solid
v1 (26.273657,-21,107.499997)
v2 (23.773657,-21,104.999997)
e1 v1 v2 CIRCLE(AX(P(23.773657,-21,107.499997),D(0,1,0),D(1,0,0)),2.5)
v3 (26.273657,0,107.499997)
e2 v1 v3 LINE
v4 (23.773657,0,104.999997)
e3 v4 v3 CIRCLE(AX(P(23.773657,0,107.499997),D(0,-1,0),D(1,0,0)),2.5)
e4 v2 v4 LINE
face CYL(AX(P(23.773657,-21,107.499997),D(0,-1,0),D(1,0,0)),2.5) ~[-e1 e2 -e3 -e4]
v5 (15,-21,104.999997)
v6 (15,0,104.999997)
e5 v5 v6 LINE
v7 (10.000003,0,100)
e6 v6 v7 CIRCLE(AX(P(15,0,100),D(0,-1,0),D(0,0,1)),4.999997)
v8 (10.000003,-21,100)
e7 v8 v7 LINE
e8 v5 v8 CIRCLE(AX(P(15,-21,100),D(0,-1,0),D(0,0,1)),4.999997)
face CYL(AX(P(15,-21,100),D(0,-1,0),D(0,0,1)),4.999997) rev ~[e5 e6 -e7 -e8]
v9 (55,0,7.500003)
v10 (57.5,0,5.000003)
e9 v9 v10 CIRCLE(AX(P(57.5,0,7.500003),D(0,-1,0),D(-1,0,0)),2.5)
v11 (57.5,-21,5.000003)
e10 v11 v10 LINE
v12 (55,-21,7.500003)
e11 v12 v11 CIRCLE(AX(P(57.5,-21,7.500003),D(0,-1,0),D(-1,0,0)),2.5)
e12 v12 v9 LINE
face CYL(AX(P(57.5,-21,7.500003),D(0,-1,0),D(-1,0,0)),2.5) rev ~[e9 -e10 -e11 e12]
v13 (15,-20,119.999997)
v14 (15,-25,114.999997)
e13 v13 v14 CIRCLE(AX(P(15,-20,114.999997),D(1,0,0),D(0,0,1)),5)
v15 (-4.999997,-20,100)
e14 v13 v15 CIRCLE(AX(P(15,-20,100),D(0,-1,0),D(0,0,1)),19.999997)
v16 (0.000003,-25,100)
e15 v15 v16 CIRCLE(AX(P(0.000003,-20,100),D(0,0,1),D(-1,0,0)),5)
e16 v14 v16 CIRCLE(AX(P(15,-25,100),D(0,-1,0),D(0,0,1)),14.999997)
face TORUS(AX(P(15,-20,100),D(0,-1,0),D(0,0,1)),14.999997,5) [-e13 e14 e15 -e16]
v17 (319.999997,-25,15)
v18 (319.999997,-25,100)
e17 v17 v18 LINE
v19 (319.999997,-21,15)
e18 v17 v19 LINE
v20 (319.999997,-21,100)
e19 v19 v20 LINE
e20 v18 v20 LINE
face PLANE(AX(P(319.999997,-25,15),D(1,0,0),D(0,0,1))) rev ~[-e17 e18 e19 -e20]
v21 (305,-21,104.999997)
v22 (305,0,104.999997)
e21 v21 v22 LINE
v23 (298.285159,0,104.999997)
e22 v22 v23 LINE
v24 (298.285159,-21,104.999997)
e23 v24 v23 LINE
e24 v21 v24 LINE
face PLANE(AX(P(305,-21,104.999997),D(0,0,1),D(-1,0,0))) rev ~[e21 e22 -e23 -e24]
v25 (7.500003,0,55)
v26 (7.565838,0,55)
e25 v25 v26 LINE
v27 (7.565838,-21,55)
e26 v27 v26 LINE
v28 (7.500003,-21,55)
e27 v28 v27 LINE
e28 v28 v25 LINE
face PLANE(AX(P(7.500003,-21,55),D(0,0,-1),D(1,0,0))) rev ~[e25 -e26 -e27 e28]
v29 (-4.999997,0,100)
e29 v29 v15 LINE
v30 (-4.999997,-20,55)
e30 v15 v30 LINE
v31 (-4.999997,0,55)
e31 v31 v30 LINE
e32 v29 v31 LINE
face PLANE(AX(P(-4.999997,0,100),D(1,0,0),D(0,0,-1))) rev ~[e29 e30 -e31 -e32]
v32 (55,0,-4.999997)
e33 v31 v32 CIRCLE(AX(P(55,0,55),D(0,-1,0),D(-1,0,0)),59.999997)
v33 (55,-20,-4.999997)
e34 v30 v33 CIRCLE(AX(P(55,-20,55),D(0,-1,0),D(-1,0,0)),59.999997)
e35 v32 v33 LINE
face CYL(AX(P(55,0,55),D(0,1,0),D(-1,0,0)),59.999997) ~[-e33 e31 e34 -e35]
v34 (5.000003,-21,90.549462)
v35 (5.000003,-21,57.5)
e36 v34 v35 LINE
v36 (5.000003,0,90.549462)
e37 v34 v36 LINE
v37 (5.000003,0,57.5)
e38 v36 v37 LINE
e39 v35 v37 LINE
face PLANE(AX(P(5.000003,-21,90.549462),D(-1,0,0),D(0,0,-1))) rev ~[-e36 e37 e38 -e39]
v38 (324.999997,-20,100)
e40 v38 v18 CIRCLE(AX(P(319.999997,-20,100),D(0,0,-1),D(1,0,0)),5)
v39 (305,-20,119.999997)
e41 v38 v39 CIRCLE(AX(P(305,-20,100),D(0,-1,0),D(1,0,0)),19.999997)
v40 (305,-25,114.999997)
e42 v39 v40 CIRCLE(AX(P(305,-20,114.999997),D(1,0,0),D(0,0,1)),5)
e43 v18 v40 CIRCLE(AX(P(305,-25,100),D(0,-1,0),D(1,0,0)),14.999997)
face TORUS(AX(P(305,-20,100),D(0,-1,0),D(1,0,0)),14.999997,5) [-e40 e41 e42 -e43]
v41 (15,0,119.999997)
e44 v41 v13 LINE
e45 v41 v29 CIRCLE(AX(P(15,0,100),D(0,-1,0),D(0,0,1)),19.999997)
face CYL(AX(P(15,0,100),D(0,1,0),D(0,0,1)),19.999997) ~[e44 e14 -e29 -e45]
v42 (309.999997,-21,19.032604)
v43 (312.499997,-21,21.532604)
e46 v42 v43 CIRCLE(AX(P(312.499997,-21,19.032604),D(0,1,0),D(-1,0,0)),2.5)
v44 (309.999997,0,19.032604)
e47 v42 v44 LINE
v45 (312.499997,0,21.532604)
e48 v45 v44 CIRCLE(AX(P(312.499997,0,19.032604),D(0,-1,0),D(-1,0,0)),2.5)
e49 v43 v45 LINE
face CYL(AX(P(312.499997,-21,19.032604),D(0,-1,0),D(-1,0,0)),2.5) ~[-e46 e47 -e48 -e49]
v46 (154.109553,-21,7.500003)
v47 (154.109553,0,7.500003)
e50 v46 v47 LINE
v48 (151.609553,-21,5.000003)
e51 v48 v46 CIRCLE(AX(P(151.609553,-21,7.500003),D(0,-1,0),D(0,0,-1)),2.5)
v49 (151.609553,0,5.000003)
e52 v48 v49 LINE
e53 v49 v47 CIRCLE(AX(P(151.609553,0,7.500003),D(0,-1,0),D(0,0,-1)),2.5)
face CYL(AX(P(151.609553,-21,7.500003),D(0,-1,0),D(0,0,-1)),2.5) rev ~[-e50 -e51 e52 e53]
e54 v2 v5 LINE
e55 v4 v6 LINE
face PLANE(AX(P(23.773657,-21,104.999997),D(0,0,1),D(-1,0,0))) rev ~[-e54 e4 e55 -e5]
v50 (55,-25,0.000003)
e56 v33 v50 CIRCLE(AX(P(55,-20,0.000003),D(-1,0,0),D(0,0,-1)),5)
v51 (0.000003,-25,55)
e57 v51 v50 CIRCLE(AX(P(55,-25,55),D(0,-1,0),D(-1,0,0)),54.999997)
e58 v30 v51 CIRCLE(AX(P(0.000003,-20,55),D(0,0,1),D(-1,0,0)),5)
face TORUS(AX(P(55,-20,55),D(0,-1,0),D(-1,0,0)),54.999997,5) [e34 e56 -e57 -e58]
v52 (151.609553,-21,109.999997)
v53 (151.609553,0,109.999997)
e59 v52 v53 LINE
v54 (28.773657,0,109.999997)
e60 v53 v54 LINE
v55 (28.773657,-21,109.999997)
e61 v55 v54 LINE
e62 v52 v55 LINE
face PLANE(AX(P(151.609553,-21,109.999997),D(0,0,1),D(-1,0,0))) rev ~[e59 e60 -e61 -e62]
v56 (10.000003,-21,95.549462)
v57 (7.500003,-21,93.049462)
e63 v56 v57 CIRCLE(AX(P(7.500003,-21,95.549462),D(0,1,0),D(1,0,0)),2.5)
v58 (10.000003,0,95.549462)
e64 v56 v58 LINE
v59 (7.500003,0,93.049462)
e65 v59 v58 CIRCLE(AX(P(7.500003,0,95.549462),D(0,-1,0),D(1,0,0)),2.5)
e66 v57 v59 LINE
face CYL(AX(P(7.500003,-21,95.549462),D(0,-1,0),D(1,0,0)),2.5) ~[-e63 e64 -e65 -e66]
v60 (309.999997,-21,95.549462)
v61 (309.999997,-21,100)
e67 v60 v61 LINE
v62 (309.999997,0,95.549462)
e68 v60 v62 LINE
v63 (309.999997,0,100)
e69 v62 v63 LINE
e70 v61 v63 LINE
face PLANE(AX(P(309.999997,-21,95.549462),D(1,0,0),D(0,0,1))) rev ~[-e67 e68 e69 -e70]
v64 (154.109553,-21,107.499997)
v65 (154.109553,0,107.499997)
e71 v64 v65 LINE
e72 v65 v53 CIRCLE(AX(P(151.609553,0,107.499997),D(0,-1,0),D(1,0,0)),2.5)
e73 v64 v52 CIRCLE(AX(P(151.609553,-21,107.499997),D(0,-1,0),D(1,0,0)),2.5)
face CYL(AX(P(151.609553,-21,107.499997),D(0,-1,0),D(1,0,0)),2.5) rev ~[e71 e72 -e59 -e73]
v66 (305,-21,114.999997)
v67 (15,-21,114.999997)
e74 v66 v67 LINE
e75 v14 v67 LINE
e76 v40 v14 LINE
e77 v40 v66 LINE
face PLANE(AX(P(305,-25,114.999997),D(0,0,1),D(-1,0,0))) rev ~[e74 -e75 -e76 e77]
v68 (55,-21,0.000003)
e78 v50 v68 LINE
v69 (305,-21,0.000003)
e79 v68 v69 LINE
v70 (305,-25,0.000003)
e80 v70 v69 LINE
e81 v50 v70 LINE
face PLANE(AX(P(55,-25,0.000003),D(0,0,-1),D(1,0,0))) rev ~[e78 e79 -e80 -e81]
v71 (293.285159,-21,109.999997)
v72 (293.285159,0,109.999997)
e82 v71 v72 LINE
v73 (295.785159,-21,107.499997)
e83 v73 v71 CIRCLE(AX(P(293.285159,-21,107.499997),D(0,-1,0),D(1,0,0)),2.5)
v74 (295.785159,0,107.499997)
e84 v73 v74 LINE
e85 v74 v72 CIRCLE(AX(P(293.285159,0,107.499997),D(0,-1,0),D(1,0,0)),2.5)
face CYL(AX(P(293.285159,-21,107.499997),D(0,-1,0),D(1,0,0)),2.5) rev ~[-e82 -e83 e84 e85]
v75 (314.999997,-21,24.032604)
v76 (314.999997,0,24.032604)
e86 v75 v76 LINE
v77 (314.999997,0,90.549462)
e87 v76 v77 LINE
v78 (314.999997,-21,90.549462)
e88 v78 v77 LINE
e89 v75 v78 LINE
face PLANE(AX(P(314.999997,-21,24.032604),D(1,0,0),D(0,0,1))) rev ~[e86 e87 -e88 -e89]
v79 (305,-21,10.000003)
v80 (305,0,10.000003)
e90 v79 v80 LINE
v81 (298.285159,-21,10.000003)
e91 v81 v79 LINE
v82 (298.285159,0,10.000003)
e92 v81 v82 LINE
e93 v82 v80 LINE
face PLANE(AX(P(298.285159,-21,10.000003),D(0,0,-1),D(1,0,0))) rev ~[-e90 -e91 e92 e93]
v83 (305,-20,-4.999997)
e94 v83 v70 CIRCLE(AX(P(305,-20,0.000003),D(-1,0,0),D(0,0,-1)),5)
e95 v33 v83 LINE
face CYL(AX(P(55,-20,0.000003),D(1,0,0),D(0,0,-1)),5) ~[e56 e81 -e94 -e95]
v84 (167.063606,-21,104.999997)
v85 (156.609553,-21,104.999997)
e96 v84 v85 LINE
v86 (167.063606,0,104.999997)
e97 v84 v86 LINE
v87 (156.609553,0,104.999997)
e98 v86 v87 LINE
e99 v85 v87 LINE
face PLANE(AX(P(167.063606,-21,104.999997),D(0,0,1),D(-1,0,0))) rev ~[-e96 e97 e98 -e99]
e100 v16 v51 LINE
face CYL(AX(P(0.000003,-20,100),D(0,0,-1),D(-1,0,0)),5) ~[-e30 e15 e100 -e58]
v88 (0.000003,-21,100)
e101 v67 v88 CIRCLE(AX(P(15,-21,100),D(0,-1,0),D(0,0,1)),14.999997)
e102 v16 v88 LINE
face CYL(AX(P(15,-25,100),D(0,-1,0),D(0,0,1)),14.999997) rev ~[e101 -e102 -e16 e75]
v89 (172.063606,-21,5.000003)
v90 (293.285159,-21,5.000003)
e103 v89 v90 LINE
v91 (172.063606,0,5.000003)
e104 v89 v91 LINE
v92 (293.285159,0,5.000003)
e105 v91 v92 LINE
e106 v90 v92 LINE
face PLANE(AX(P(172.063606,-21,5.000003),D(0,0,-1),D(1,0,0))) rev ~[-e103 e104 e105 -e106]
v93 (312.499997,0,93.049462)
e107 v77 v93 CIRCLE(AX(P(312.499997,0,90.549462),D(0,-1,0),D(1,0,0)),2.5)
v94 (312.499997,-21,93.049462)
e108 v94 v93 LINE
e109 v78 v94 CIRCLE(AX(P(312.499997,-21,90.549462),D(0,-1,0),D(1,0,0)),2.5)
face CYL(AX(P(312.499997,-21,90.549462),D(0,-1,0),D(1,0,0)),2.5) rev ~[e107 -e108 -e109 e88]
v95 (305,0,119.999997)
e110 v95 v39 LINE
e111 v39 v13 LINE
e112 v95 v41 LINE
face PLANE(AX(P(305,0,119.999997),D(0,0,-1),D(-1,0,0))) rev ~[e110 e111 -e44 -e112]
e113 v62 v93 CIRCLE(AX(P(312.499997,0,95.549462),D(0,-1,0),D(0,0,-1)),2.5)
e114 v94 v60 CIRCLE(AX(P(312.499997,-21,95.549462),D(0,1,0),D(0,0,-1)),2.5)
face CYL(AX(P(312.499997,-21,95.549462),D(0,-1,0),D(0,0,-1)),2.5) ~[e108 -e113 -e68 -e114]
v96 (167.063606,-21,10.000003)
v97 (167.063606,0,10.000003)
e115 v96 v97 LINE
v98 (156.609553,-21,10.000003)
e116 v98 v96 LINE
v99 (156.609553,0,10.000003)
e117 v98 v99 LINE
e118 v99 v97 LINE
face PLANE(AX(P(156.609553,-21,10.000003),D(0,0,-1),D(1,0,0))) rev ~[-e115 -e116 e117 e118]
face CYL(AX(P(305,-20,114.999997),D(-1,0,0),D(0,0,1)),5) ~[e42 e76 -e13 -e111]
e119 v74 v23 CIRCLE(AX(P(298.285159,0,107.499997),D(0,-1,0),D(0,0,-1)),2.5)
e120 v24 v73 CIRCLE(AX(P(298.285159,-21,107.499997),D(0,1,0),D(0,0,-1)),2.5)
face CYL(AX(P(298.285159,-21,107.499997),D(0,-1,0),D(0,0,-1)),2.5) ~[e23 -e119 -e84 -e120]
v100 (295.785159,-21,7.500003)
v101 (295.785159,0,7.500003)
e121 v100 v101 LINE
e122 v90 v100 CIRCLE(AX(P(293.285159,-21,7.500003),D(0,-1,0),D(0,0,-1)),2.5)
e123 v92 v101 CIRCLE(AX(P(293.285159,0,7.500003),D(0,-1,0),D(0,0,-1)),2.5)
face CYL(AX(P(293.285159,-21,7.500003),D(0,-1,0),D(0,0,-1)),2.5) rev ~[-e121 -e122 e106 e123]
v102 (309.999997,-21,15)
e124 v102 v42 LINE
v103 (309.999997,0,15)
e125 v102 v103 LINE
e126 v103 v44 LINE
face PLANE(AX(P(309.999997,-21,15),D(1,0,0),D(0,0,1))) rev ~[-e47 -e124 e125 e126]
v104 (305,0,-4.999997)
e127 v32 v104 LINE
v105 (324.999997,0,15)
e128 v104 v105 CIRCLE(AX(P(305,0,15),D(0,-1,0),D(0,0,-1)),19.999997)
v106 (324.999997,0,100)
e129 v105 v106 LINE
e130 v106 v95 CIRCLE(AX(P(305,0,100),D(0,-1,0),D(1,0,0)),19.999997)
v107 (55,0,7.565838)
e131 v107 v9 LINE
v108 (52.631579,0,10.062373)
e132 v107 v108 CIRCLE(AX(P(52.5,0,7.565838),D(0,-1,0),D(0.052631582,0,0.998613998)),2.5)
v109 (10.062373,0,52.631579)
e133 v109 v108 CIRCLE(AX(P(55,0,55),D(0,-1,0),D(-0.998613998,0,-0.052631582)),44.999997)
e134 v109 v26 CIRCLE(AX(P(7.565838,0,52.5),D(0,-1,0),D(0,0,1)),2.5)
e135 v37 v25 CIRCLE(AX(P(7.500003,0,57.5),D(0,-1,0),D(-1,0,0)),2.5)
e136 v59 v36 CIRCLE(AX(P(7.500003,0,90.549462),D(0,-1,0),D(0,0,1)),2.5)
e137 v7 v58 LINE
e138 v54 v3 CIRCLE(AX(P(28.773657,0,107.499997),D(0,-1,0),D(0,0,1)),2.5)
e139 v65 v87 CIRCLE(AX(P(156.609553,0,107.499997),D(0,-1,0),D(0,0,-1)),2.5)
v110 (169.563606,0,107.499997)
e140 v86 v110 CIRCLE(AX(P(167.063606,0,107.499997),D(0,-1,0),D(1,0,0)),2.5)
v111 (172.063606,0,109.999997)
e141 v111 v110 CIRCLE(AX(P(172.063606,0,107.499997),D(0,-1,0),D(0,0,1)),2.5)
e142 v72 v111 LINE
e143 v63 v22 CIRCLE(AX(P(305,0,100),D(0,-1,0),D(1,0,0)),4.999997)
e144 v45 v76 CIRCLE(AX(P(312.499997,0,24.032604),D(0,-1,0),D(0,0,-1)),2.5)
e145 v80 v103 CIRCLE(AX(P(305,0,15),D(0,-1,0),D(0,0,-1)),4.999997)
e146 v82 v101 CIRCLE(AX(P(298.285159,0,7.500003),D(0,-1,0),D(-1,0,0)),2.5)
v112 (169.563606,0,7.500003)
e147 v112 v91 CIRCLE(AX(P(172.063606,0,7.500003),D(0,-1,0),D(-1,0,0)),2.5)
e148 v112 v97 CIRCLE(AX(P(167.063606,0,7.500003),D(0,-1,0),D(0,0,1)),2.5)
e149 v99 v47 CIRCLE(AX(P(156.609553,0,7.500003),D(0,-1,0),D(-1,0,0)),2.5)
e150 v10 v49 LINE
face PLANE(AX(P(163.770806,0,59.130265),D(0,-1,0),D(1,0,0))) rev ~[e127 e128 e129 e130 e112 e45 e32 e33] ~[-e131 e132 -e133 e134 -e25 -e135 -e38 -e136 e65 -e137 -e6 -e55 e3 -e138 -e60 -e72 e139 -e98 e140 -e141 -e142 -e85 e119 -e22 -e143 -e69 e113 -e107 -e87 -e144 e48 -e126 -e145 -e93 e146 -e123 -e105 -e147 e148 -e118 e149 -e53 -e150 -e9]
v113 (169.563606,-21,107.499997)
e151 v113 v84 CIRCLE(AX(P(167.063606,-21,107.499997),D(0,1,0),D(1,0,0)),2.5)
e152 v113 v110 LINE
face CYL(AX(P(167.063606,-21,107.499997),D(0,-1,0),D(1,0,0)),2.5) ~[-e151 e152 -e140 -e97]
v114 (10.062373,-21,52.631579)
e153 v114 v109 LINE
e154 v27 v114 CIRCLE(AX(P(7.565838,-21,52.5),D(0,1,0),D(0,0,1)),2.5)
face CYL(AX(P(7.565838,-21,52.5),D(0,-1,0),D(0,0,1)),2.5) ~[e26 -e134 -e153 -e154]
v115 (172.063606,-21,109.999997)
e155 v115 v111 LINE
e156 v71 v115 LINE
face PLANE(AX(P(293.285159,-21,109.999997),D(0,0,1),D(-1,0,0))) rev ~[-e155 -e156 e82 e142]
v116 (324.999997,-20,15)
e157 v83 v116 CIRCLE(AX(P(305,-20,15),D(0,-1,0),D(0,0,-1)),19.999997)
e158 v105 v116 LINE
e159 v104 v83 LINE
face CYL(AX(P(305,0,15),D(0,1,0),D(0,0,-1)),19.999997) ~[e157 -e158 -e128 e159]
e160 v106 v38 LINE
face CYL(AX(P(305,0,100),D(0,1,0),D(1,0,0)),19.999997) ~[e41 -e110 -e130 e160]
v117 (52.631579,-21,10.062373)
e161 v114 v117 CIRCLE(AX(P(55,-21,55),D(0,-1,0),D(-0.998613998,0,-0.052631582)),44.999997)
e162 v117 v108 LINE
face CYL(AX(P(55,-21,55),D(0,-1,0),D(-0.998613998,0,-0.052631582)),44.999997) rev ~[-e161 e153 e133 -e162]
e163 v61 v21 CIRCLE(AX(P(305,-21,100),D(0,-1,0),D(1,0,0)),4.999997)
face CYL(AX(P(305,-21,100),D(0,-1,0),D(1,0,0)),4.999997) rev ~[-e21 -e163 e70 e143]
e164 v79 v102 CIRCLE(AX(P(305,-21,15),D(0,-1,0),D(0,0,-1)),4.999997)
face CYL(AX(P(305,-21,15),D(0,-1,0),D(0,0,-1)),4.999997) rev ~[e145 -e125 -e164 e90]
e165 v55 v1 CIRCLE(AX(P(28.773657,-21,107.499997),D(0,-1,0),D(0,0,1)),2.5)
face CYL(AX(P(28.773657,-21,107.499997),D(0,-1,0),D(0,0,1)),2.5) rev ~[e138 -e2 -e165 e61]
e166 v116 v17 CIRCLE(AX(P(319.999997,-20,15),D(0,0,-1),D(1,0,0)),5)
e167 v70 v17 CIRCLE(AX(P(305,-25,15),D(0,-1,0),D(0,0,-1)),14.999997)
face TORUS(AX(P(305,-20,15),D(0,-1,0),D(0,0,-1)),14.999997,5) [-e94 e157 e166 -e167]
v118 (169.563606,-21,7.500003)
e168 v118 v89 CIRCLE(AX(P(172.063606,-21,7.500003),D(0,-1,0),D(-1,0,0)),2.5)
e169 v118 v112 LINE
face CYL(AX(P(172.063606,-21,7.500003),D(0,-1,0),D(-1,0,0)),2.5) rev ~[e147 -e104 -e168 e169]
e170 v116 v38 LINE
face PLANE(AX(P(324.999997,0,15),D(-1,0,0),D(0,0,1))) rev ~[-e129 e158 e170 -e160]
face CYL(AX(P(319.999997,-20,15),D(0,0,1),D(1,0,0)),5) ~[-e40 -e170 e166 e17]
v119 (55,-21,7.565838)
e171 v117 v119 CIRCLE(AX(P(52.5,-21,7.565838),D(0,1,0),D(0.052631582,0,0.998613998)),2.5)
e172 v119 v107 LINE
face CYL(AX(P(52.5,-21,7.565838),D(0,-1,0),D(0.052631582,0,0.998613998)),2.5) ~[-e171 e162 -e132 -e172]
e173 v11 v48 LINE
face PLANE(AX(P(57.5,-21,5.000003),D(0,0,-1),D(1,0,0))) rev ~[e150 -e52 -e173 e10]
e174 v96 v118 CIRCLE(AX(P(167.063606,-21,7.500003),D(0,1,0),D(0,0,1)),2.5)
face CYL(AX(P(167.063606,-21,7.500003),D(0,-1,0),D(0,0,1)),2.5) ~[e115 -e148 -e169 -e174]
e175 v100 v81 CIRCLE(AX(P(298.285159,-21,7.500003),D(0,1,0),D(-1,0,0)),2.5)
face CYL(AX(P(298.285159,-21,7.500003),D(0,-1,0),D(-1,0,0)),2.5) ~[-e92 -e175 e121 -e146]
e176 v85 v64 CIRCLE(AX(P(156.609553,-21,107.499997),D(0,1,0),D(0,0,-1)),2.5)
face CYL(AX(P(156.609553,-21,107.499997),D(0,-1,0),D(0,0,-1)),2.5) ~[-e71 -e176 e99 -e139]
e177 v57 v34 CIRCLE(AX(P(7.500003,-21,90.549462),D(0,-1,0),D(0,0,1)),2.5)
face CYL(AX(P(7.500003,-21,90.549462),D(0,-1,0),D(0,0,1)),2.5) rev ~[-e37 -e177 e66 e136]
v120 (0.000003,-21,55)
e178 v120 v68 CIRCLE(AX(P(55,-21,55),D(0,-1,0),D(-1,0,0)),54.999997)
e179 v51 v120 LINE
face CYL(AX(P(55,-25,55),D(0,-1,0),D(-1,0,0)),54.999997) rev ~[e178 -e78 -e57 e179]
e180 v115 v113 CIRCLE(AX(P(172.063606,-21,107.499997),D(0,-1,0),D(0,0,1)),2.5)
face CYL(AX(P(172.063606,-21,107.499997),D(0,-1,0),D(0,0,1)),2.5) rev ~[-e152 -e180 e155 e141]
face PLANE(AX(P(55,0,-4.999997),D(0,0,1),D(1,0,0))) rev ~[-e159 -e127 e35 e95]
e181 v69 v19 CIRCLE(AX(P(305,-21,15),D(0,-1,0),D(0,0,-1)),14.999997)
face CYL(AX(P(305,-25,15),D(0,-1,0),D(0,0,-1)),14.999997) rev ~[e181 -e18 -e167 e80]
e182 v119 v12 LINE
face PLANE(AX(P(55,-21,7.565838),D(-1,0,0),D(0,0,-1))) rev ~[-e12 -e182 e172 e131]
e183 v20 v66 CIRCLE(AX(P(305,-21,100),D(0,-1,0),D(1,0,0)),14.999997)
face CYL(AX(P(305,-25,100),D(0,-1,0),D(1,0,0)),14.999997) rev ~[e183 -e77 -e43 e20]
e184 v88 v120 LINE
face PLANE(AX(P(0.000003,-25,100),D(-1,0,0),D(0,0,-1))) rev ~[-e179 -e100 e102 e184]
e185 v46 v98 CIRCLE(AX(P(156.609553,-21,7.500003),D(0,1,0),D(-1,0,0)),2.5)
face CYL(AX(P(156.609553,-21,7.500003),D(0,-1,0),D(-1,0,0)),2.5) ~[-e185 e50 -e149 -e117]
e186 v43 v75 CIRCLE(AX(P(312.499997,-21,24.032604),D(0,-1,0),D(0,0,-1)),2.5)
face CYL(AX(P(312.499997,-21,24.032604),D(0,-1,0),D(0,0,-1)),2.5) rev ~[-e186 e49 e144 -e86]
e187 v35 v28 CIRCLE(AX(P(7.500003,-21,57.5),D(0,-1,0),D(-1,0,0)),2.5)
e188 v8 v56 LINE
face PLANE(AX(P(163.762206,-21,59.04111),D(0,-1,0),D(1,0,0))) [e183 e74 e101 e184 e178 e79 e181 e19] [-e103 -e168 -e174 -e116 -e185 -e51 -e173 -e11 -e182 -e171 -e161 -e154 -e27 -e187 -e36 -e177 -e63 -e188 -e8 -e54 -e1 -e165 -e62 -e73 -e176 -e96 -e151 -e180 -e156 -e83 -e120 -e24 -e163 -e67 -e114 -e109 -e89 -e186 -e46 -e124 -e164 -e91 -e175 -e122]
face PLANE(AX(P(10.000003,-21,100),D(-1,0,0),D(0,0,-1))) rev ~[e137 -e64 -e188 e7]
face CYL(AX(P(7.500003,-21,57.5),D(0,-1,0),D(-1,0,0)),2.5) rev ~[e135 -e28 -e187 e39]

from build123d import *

# Parameters (mm, degrees)
F2_DEPTH = 25
F3_R     = 5
F4_DEPTH = 4
F6_DEPTH = 25


with BuildPart() as f2:
    # F1 (on Front) → F2 (new body)
    with BuildSketch(Plane.XZ):
        with BuildLine():
            Line((-4.9999973178, 100), (-4.9999973178, 55))
            ThreePointArc((-4.9999973178, 55), (12.5735950254, 12.5735950254), (55, -4.9999973178))
            Line((55, -4.9999973178), (305, -4.9999973178))
            ThreePointArc((305, -4.9999973178), (319.1421337271, 0.8578662729), (324.9999973178, 15))
            Line((324.9999973178, 15), (324.9999973178, 100))
            ThreePointArc((324.9999973178, 100), (319.1421337271, 114.1421337271), (305, 119.9999973178))
            Line((305, 119.9999973178), (15, 119.9999973178))
            ThreePointArc((15, 119.9999973178), (0.8578662729, 114.1421337271), (-4.9999973178, 100))
        make_face()
    extrude(amount=F2_DEPTH)

    # F3
    f3_edges = [f2.edges().sort_by_distance(p)[0] for p in [
        (160, -25, 119.999997),
        (0.857866, -25, 114.142134),
        (-4.999997, -25, 77.5),
        (12.573595, -25, 12.573595),
        (180, -25, -4.999997),
        (319.142134, -25, 0.857866),
        (324.999997, -25, 57.5),
        (319.142134, -25, 114.142134),
    ]]
    fillet(f3_edges, radius=F3_R)

    # F2_face (on face) + F0 (on Front) + F2_face1 (on face) → F4 (cut)
    with BuildSketch(Plane(origin=(162.4531537348, -25, 58.2425840515), x_dir=(1, 0, 0), z_dir=(0, -1, 0))):
        with BuildLine():
            Line((142.5468462652, 56.7574132663), (-147.4531537348, 56.7574132663))
            ThreePointArc((-147.4531537348, 56.7574132663), (-158.059753556, 52.3640157697), (-162.4531510526, 41.7574159485))
            Line((-162.4531510526, 41.7574159485), (-162.4531510526, -3.2425840515))
            ThreePointArc((-162.4531510526, -3.2425840515), (-146.3440248034, -42.1334551202), (-107.4531537348, -58.2425813693))
            Line((-107.4531537348, -58.2425813693), (142.5468462652, -58.2425813693))
            ThreePointArc((142.5468462652, -58.2425813693), (153.1534460864, -53.8491838727), (157.546843583, -43.2425840515))
            Line((157.546843583, -43.2425840515), (157.546843583, 41.7574159485))
            ThreePointArc((157.546843583, 41.7574159485), (153.1534460864, 52.3640157697), (142.5468462652, 56.7574132663))
        make_face()
    with BuildSketch(Plane.XZ):
        with BuildLine():
            Line((186.9708299637, 115), (189.8719519377, 0))
            Line((189.8719519377, 0), (305, 0))
            ThreePointArc((305, 0), (315.6066017178, 4.3933982822), (320, 15))
            Line((320, 15), (320, 100))
            ThreePointArc((320, 100), (315.6066017178, 110.6066017178), (305, 115))
            Line((305, 115), (186.9708299637, 115))
        make_face()
    with BuildSketch(Plane(origin=(162.5693555517, 0, 58.3192422461), x_dir=(1, 0, 0), z_dir=(0, 1, 0))):
        with BuildLine():
            Line((-167.5693528695, 3.3192422461), (-167.5693528695, -41.6807577539))
            ThreePointArc((-167.5693528695, -41.6807577539), (-161.7114892788, -55.8228914811), (-147.5693555517, -61.6807550717))
            Line((-147.5693555517, -61.6807550717), (142.4306444483, -61.6807550717))
            ThreePointArc((142.4306444483, -61.6807550717), (156.5727781754, -55.8228914811), (162.4306417661, -41.6807577539))
            Line((162.4306417661, -41.6807577539), (162.4306417661, 43.3192422461))
            ThreePointArc((162.4306417661, 43.3192422461), (156.5727781754, 57.4613759732), (142.4306444483, 63.3192395638))
            Line((142.4306444483, 63.3192395638), (-107.5693555517, 63.3192395638))
            ThreePointArc((-107.5693555517, 63.3192395638), (-149.9957605263, 45.7456472206), (-167.5693528695, 3.3192422461))
        make_face()
    extrude(amount=-F4_DEPTH, dir=(0, -1, 0), mode=Mode.SUBTRACT)

    # F5 (on face) → F6 (cut)
    with BuildSketch(Plane.XZ.offset(21)):
        with BuildLine():
            Line((298.2851588726, 10.0000026822), (305, 10.0000026822))
            ThreePointArc((305, 10.0000026822), (308.5355320093, 11.4644679907), (309.9999973178, 15))
            Line((309.9999973178, 15), (309.9999973178, 19.0326044708))
            ThreePointArc((309.9999973178, 19.0326044708), (310.7322303648, 20.8003714238), (312.4999973178, 21.5326044708))
            ThreePointArc((312.4999973178, 21.5326044708), (314.2677642708, 22.2648375179), (314.9999973178, 24.0326044708))
            Line((314.9999973178, 24.0326044708), (314.9999973178, 90.5494615436))
            ThreePointArc((314.9999973178, 90.5494615436), (314.2677642708, 92.3172284965), (312.4999973178, 93.0494615436))
            ThreePointArc((312.4999973178, 93.0494615436), (310.7322303648, 93.7816945906), (309.9999973178, 95.5494615436))
            Line((309.9999973178, 95.5494615436), (309.9999973178, 100))
            ThreePointArc((309.9999973178, 100), (308.5355320093, 103.5355320093), (305, 104.9999973178))
            Line((305, 104.9999973178), (298.2851588726, 104.9999973178))
            ThreePointArc((298.2851588726, 104.9999973178), (296.5173919196, 105.7322303648), (295.7851588726, 107.4999973178))
            ThreePointArc((295.7851588726, 107.4999973178), (295.0529258256, 109.2677642708), (293.2851588726, 109.9999973178))
            Line((293.2851588726, 109.9999973178), (172.0636063814, 109.9999973178))
            ThreePointArc((172.0636063814, 109.9999973178), (170.2958394284, 109.2677642708), (169.5636063814, 107.4999973178))
            ThreePointArc((169.5636063814, 107.4999973178), (168.8313733344, 105.7322303648), (167.0636063814, 104.9999973178))
            Line((167.0636063814, 104.9999973178), (156.6095525026, 104.9999973178))
            ThreePointArc((156.6095525026, 104.9999973178), (154.8417855497, 105.7322303648), (154.1095525026, 107.4999973178))
            ThreePointArc((154.1095525026, 107.4999973178), (153.3773194556, 109.2677642708), (151.6095525026, 109.9999973178))
            Line((151.6095525026, 109.9999973178), (28.7736566365, 109.9999973178))
            ThreePointArc((28.7736566365, 109.9999973178), (27.0058896835, 109.2677642708), (26.2736566365, 107.4999973178))
            ThreePointArc((26.2736566365, 107.4999973178), (25.5414235894, 105.7322303648), (23.7736566365, 104.9999973178))
            Line((23.7736566365, 104.9999973178), (15, 104.9999973178))
            ThreePointArc((15, 104.9999973178), (11.4644679907, 103.5355320093), (10.0000026822, 100))
            Line((10.0000026822, 100), (10.0000026822, 95.5494615436))
            ThreePointArc((10.0000026822, 95.5494615436), (9.2677696352, 93.7816945906), (7.5000026822, 93.0494615436))
            ThreePointArc((7.5000026822, 93.0494615436), (5.7322357292, 92.3172284965), (5.0000026822, 90.5494615436))
            Line((5.0000026822, 90.5494615436), (5.0000026822, 57.5))
            ThreePointArc((5.0000026822, 57.5), (5.7322357292, 55.732233047), (7.5000026822, 55))
            Line((7.5000026822, 55), (7.5658377834, 55))
            ThreePointArc((7.5658377834, 55), (9.2864557847, 54.3136906278), (10.0623727779, 52.6315789548))
            ThreePointArc((10.0623727779, 52.6315789548), (23.1801967432, 23.1801967432), (52.6315789548, 10.0623727779))
            ThreePointArc((52.6315789548, 10.0623727779), (54.3136906278, 9.2864557847), (55, 7.5658377834))
            Line((55, 7.5658377834), (55, 7.5000026822))
            ThreePointArc((55, 7.5000026822), (55.732233047, 5.7322357292), (57.5, 5.0000026822))
            Line((57.5, 5.0000026822), (151.6095525026, 5.0000026822))
            ThreePointArc((151.6095525026, 5.0000026822), (153.3773194556, 5.7322357292), (154.1095525026, 7.5000026822))
            ThreePointArc((154.1095525026, 7.5000026822), (154.8417855497, 9.2677696352), (156.6095525026, 10.0000026822))
            Line((156.6095525026, 10.0000026822), (167.0636063814, 10.0000026822))
            ThreePointArc((167.0636063814, 10.0000026822), (168.8313733344, 9.2677696352), (169.5636063814, 7.5000026822))
            ThreePointArc((169.5636063814, 7.5000026822), (170.2958394284, 5.7322357292), (172.0636063814, 5.0000026822))
            Line((172.0636063814, 5.0000026822), (293.2851588726, 5.0000026822))
            ThreePointArc((293.2851588726, 5.0000026822), (295.0529258256, 5.7322357292), (295.7851588726, 7.5000026822))
            ThreePointArc((295.7851588726, 7.5000026822), (296.5173919196, 9.2677696352), (298.2851588726, 10.0000026822))
        make_face()
    extrude(amount=-F6_DEPTH, mode=Mode.SUBTRACT)


solid = f2.part
